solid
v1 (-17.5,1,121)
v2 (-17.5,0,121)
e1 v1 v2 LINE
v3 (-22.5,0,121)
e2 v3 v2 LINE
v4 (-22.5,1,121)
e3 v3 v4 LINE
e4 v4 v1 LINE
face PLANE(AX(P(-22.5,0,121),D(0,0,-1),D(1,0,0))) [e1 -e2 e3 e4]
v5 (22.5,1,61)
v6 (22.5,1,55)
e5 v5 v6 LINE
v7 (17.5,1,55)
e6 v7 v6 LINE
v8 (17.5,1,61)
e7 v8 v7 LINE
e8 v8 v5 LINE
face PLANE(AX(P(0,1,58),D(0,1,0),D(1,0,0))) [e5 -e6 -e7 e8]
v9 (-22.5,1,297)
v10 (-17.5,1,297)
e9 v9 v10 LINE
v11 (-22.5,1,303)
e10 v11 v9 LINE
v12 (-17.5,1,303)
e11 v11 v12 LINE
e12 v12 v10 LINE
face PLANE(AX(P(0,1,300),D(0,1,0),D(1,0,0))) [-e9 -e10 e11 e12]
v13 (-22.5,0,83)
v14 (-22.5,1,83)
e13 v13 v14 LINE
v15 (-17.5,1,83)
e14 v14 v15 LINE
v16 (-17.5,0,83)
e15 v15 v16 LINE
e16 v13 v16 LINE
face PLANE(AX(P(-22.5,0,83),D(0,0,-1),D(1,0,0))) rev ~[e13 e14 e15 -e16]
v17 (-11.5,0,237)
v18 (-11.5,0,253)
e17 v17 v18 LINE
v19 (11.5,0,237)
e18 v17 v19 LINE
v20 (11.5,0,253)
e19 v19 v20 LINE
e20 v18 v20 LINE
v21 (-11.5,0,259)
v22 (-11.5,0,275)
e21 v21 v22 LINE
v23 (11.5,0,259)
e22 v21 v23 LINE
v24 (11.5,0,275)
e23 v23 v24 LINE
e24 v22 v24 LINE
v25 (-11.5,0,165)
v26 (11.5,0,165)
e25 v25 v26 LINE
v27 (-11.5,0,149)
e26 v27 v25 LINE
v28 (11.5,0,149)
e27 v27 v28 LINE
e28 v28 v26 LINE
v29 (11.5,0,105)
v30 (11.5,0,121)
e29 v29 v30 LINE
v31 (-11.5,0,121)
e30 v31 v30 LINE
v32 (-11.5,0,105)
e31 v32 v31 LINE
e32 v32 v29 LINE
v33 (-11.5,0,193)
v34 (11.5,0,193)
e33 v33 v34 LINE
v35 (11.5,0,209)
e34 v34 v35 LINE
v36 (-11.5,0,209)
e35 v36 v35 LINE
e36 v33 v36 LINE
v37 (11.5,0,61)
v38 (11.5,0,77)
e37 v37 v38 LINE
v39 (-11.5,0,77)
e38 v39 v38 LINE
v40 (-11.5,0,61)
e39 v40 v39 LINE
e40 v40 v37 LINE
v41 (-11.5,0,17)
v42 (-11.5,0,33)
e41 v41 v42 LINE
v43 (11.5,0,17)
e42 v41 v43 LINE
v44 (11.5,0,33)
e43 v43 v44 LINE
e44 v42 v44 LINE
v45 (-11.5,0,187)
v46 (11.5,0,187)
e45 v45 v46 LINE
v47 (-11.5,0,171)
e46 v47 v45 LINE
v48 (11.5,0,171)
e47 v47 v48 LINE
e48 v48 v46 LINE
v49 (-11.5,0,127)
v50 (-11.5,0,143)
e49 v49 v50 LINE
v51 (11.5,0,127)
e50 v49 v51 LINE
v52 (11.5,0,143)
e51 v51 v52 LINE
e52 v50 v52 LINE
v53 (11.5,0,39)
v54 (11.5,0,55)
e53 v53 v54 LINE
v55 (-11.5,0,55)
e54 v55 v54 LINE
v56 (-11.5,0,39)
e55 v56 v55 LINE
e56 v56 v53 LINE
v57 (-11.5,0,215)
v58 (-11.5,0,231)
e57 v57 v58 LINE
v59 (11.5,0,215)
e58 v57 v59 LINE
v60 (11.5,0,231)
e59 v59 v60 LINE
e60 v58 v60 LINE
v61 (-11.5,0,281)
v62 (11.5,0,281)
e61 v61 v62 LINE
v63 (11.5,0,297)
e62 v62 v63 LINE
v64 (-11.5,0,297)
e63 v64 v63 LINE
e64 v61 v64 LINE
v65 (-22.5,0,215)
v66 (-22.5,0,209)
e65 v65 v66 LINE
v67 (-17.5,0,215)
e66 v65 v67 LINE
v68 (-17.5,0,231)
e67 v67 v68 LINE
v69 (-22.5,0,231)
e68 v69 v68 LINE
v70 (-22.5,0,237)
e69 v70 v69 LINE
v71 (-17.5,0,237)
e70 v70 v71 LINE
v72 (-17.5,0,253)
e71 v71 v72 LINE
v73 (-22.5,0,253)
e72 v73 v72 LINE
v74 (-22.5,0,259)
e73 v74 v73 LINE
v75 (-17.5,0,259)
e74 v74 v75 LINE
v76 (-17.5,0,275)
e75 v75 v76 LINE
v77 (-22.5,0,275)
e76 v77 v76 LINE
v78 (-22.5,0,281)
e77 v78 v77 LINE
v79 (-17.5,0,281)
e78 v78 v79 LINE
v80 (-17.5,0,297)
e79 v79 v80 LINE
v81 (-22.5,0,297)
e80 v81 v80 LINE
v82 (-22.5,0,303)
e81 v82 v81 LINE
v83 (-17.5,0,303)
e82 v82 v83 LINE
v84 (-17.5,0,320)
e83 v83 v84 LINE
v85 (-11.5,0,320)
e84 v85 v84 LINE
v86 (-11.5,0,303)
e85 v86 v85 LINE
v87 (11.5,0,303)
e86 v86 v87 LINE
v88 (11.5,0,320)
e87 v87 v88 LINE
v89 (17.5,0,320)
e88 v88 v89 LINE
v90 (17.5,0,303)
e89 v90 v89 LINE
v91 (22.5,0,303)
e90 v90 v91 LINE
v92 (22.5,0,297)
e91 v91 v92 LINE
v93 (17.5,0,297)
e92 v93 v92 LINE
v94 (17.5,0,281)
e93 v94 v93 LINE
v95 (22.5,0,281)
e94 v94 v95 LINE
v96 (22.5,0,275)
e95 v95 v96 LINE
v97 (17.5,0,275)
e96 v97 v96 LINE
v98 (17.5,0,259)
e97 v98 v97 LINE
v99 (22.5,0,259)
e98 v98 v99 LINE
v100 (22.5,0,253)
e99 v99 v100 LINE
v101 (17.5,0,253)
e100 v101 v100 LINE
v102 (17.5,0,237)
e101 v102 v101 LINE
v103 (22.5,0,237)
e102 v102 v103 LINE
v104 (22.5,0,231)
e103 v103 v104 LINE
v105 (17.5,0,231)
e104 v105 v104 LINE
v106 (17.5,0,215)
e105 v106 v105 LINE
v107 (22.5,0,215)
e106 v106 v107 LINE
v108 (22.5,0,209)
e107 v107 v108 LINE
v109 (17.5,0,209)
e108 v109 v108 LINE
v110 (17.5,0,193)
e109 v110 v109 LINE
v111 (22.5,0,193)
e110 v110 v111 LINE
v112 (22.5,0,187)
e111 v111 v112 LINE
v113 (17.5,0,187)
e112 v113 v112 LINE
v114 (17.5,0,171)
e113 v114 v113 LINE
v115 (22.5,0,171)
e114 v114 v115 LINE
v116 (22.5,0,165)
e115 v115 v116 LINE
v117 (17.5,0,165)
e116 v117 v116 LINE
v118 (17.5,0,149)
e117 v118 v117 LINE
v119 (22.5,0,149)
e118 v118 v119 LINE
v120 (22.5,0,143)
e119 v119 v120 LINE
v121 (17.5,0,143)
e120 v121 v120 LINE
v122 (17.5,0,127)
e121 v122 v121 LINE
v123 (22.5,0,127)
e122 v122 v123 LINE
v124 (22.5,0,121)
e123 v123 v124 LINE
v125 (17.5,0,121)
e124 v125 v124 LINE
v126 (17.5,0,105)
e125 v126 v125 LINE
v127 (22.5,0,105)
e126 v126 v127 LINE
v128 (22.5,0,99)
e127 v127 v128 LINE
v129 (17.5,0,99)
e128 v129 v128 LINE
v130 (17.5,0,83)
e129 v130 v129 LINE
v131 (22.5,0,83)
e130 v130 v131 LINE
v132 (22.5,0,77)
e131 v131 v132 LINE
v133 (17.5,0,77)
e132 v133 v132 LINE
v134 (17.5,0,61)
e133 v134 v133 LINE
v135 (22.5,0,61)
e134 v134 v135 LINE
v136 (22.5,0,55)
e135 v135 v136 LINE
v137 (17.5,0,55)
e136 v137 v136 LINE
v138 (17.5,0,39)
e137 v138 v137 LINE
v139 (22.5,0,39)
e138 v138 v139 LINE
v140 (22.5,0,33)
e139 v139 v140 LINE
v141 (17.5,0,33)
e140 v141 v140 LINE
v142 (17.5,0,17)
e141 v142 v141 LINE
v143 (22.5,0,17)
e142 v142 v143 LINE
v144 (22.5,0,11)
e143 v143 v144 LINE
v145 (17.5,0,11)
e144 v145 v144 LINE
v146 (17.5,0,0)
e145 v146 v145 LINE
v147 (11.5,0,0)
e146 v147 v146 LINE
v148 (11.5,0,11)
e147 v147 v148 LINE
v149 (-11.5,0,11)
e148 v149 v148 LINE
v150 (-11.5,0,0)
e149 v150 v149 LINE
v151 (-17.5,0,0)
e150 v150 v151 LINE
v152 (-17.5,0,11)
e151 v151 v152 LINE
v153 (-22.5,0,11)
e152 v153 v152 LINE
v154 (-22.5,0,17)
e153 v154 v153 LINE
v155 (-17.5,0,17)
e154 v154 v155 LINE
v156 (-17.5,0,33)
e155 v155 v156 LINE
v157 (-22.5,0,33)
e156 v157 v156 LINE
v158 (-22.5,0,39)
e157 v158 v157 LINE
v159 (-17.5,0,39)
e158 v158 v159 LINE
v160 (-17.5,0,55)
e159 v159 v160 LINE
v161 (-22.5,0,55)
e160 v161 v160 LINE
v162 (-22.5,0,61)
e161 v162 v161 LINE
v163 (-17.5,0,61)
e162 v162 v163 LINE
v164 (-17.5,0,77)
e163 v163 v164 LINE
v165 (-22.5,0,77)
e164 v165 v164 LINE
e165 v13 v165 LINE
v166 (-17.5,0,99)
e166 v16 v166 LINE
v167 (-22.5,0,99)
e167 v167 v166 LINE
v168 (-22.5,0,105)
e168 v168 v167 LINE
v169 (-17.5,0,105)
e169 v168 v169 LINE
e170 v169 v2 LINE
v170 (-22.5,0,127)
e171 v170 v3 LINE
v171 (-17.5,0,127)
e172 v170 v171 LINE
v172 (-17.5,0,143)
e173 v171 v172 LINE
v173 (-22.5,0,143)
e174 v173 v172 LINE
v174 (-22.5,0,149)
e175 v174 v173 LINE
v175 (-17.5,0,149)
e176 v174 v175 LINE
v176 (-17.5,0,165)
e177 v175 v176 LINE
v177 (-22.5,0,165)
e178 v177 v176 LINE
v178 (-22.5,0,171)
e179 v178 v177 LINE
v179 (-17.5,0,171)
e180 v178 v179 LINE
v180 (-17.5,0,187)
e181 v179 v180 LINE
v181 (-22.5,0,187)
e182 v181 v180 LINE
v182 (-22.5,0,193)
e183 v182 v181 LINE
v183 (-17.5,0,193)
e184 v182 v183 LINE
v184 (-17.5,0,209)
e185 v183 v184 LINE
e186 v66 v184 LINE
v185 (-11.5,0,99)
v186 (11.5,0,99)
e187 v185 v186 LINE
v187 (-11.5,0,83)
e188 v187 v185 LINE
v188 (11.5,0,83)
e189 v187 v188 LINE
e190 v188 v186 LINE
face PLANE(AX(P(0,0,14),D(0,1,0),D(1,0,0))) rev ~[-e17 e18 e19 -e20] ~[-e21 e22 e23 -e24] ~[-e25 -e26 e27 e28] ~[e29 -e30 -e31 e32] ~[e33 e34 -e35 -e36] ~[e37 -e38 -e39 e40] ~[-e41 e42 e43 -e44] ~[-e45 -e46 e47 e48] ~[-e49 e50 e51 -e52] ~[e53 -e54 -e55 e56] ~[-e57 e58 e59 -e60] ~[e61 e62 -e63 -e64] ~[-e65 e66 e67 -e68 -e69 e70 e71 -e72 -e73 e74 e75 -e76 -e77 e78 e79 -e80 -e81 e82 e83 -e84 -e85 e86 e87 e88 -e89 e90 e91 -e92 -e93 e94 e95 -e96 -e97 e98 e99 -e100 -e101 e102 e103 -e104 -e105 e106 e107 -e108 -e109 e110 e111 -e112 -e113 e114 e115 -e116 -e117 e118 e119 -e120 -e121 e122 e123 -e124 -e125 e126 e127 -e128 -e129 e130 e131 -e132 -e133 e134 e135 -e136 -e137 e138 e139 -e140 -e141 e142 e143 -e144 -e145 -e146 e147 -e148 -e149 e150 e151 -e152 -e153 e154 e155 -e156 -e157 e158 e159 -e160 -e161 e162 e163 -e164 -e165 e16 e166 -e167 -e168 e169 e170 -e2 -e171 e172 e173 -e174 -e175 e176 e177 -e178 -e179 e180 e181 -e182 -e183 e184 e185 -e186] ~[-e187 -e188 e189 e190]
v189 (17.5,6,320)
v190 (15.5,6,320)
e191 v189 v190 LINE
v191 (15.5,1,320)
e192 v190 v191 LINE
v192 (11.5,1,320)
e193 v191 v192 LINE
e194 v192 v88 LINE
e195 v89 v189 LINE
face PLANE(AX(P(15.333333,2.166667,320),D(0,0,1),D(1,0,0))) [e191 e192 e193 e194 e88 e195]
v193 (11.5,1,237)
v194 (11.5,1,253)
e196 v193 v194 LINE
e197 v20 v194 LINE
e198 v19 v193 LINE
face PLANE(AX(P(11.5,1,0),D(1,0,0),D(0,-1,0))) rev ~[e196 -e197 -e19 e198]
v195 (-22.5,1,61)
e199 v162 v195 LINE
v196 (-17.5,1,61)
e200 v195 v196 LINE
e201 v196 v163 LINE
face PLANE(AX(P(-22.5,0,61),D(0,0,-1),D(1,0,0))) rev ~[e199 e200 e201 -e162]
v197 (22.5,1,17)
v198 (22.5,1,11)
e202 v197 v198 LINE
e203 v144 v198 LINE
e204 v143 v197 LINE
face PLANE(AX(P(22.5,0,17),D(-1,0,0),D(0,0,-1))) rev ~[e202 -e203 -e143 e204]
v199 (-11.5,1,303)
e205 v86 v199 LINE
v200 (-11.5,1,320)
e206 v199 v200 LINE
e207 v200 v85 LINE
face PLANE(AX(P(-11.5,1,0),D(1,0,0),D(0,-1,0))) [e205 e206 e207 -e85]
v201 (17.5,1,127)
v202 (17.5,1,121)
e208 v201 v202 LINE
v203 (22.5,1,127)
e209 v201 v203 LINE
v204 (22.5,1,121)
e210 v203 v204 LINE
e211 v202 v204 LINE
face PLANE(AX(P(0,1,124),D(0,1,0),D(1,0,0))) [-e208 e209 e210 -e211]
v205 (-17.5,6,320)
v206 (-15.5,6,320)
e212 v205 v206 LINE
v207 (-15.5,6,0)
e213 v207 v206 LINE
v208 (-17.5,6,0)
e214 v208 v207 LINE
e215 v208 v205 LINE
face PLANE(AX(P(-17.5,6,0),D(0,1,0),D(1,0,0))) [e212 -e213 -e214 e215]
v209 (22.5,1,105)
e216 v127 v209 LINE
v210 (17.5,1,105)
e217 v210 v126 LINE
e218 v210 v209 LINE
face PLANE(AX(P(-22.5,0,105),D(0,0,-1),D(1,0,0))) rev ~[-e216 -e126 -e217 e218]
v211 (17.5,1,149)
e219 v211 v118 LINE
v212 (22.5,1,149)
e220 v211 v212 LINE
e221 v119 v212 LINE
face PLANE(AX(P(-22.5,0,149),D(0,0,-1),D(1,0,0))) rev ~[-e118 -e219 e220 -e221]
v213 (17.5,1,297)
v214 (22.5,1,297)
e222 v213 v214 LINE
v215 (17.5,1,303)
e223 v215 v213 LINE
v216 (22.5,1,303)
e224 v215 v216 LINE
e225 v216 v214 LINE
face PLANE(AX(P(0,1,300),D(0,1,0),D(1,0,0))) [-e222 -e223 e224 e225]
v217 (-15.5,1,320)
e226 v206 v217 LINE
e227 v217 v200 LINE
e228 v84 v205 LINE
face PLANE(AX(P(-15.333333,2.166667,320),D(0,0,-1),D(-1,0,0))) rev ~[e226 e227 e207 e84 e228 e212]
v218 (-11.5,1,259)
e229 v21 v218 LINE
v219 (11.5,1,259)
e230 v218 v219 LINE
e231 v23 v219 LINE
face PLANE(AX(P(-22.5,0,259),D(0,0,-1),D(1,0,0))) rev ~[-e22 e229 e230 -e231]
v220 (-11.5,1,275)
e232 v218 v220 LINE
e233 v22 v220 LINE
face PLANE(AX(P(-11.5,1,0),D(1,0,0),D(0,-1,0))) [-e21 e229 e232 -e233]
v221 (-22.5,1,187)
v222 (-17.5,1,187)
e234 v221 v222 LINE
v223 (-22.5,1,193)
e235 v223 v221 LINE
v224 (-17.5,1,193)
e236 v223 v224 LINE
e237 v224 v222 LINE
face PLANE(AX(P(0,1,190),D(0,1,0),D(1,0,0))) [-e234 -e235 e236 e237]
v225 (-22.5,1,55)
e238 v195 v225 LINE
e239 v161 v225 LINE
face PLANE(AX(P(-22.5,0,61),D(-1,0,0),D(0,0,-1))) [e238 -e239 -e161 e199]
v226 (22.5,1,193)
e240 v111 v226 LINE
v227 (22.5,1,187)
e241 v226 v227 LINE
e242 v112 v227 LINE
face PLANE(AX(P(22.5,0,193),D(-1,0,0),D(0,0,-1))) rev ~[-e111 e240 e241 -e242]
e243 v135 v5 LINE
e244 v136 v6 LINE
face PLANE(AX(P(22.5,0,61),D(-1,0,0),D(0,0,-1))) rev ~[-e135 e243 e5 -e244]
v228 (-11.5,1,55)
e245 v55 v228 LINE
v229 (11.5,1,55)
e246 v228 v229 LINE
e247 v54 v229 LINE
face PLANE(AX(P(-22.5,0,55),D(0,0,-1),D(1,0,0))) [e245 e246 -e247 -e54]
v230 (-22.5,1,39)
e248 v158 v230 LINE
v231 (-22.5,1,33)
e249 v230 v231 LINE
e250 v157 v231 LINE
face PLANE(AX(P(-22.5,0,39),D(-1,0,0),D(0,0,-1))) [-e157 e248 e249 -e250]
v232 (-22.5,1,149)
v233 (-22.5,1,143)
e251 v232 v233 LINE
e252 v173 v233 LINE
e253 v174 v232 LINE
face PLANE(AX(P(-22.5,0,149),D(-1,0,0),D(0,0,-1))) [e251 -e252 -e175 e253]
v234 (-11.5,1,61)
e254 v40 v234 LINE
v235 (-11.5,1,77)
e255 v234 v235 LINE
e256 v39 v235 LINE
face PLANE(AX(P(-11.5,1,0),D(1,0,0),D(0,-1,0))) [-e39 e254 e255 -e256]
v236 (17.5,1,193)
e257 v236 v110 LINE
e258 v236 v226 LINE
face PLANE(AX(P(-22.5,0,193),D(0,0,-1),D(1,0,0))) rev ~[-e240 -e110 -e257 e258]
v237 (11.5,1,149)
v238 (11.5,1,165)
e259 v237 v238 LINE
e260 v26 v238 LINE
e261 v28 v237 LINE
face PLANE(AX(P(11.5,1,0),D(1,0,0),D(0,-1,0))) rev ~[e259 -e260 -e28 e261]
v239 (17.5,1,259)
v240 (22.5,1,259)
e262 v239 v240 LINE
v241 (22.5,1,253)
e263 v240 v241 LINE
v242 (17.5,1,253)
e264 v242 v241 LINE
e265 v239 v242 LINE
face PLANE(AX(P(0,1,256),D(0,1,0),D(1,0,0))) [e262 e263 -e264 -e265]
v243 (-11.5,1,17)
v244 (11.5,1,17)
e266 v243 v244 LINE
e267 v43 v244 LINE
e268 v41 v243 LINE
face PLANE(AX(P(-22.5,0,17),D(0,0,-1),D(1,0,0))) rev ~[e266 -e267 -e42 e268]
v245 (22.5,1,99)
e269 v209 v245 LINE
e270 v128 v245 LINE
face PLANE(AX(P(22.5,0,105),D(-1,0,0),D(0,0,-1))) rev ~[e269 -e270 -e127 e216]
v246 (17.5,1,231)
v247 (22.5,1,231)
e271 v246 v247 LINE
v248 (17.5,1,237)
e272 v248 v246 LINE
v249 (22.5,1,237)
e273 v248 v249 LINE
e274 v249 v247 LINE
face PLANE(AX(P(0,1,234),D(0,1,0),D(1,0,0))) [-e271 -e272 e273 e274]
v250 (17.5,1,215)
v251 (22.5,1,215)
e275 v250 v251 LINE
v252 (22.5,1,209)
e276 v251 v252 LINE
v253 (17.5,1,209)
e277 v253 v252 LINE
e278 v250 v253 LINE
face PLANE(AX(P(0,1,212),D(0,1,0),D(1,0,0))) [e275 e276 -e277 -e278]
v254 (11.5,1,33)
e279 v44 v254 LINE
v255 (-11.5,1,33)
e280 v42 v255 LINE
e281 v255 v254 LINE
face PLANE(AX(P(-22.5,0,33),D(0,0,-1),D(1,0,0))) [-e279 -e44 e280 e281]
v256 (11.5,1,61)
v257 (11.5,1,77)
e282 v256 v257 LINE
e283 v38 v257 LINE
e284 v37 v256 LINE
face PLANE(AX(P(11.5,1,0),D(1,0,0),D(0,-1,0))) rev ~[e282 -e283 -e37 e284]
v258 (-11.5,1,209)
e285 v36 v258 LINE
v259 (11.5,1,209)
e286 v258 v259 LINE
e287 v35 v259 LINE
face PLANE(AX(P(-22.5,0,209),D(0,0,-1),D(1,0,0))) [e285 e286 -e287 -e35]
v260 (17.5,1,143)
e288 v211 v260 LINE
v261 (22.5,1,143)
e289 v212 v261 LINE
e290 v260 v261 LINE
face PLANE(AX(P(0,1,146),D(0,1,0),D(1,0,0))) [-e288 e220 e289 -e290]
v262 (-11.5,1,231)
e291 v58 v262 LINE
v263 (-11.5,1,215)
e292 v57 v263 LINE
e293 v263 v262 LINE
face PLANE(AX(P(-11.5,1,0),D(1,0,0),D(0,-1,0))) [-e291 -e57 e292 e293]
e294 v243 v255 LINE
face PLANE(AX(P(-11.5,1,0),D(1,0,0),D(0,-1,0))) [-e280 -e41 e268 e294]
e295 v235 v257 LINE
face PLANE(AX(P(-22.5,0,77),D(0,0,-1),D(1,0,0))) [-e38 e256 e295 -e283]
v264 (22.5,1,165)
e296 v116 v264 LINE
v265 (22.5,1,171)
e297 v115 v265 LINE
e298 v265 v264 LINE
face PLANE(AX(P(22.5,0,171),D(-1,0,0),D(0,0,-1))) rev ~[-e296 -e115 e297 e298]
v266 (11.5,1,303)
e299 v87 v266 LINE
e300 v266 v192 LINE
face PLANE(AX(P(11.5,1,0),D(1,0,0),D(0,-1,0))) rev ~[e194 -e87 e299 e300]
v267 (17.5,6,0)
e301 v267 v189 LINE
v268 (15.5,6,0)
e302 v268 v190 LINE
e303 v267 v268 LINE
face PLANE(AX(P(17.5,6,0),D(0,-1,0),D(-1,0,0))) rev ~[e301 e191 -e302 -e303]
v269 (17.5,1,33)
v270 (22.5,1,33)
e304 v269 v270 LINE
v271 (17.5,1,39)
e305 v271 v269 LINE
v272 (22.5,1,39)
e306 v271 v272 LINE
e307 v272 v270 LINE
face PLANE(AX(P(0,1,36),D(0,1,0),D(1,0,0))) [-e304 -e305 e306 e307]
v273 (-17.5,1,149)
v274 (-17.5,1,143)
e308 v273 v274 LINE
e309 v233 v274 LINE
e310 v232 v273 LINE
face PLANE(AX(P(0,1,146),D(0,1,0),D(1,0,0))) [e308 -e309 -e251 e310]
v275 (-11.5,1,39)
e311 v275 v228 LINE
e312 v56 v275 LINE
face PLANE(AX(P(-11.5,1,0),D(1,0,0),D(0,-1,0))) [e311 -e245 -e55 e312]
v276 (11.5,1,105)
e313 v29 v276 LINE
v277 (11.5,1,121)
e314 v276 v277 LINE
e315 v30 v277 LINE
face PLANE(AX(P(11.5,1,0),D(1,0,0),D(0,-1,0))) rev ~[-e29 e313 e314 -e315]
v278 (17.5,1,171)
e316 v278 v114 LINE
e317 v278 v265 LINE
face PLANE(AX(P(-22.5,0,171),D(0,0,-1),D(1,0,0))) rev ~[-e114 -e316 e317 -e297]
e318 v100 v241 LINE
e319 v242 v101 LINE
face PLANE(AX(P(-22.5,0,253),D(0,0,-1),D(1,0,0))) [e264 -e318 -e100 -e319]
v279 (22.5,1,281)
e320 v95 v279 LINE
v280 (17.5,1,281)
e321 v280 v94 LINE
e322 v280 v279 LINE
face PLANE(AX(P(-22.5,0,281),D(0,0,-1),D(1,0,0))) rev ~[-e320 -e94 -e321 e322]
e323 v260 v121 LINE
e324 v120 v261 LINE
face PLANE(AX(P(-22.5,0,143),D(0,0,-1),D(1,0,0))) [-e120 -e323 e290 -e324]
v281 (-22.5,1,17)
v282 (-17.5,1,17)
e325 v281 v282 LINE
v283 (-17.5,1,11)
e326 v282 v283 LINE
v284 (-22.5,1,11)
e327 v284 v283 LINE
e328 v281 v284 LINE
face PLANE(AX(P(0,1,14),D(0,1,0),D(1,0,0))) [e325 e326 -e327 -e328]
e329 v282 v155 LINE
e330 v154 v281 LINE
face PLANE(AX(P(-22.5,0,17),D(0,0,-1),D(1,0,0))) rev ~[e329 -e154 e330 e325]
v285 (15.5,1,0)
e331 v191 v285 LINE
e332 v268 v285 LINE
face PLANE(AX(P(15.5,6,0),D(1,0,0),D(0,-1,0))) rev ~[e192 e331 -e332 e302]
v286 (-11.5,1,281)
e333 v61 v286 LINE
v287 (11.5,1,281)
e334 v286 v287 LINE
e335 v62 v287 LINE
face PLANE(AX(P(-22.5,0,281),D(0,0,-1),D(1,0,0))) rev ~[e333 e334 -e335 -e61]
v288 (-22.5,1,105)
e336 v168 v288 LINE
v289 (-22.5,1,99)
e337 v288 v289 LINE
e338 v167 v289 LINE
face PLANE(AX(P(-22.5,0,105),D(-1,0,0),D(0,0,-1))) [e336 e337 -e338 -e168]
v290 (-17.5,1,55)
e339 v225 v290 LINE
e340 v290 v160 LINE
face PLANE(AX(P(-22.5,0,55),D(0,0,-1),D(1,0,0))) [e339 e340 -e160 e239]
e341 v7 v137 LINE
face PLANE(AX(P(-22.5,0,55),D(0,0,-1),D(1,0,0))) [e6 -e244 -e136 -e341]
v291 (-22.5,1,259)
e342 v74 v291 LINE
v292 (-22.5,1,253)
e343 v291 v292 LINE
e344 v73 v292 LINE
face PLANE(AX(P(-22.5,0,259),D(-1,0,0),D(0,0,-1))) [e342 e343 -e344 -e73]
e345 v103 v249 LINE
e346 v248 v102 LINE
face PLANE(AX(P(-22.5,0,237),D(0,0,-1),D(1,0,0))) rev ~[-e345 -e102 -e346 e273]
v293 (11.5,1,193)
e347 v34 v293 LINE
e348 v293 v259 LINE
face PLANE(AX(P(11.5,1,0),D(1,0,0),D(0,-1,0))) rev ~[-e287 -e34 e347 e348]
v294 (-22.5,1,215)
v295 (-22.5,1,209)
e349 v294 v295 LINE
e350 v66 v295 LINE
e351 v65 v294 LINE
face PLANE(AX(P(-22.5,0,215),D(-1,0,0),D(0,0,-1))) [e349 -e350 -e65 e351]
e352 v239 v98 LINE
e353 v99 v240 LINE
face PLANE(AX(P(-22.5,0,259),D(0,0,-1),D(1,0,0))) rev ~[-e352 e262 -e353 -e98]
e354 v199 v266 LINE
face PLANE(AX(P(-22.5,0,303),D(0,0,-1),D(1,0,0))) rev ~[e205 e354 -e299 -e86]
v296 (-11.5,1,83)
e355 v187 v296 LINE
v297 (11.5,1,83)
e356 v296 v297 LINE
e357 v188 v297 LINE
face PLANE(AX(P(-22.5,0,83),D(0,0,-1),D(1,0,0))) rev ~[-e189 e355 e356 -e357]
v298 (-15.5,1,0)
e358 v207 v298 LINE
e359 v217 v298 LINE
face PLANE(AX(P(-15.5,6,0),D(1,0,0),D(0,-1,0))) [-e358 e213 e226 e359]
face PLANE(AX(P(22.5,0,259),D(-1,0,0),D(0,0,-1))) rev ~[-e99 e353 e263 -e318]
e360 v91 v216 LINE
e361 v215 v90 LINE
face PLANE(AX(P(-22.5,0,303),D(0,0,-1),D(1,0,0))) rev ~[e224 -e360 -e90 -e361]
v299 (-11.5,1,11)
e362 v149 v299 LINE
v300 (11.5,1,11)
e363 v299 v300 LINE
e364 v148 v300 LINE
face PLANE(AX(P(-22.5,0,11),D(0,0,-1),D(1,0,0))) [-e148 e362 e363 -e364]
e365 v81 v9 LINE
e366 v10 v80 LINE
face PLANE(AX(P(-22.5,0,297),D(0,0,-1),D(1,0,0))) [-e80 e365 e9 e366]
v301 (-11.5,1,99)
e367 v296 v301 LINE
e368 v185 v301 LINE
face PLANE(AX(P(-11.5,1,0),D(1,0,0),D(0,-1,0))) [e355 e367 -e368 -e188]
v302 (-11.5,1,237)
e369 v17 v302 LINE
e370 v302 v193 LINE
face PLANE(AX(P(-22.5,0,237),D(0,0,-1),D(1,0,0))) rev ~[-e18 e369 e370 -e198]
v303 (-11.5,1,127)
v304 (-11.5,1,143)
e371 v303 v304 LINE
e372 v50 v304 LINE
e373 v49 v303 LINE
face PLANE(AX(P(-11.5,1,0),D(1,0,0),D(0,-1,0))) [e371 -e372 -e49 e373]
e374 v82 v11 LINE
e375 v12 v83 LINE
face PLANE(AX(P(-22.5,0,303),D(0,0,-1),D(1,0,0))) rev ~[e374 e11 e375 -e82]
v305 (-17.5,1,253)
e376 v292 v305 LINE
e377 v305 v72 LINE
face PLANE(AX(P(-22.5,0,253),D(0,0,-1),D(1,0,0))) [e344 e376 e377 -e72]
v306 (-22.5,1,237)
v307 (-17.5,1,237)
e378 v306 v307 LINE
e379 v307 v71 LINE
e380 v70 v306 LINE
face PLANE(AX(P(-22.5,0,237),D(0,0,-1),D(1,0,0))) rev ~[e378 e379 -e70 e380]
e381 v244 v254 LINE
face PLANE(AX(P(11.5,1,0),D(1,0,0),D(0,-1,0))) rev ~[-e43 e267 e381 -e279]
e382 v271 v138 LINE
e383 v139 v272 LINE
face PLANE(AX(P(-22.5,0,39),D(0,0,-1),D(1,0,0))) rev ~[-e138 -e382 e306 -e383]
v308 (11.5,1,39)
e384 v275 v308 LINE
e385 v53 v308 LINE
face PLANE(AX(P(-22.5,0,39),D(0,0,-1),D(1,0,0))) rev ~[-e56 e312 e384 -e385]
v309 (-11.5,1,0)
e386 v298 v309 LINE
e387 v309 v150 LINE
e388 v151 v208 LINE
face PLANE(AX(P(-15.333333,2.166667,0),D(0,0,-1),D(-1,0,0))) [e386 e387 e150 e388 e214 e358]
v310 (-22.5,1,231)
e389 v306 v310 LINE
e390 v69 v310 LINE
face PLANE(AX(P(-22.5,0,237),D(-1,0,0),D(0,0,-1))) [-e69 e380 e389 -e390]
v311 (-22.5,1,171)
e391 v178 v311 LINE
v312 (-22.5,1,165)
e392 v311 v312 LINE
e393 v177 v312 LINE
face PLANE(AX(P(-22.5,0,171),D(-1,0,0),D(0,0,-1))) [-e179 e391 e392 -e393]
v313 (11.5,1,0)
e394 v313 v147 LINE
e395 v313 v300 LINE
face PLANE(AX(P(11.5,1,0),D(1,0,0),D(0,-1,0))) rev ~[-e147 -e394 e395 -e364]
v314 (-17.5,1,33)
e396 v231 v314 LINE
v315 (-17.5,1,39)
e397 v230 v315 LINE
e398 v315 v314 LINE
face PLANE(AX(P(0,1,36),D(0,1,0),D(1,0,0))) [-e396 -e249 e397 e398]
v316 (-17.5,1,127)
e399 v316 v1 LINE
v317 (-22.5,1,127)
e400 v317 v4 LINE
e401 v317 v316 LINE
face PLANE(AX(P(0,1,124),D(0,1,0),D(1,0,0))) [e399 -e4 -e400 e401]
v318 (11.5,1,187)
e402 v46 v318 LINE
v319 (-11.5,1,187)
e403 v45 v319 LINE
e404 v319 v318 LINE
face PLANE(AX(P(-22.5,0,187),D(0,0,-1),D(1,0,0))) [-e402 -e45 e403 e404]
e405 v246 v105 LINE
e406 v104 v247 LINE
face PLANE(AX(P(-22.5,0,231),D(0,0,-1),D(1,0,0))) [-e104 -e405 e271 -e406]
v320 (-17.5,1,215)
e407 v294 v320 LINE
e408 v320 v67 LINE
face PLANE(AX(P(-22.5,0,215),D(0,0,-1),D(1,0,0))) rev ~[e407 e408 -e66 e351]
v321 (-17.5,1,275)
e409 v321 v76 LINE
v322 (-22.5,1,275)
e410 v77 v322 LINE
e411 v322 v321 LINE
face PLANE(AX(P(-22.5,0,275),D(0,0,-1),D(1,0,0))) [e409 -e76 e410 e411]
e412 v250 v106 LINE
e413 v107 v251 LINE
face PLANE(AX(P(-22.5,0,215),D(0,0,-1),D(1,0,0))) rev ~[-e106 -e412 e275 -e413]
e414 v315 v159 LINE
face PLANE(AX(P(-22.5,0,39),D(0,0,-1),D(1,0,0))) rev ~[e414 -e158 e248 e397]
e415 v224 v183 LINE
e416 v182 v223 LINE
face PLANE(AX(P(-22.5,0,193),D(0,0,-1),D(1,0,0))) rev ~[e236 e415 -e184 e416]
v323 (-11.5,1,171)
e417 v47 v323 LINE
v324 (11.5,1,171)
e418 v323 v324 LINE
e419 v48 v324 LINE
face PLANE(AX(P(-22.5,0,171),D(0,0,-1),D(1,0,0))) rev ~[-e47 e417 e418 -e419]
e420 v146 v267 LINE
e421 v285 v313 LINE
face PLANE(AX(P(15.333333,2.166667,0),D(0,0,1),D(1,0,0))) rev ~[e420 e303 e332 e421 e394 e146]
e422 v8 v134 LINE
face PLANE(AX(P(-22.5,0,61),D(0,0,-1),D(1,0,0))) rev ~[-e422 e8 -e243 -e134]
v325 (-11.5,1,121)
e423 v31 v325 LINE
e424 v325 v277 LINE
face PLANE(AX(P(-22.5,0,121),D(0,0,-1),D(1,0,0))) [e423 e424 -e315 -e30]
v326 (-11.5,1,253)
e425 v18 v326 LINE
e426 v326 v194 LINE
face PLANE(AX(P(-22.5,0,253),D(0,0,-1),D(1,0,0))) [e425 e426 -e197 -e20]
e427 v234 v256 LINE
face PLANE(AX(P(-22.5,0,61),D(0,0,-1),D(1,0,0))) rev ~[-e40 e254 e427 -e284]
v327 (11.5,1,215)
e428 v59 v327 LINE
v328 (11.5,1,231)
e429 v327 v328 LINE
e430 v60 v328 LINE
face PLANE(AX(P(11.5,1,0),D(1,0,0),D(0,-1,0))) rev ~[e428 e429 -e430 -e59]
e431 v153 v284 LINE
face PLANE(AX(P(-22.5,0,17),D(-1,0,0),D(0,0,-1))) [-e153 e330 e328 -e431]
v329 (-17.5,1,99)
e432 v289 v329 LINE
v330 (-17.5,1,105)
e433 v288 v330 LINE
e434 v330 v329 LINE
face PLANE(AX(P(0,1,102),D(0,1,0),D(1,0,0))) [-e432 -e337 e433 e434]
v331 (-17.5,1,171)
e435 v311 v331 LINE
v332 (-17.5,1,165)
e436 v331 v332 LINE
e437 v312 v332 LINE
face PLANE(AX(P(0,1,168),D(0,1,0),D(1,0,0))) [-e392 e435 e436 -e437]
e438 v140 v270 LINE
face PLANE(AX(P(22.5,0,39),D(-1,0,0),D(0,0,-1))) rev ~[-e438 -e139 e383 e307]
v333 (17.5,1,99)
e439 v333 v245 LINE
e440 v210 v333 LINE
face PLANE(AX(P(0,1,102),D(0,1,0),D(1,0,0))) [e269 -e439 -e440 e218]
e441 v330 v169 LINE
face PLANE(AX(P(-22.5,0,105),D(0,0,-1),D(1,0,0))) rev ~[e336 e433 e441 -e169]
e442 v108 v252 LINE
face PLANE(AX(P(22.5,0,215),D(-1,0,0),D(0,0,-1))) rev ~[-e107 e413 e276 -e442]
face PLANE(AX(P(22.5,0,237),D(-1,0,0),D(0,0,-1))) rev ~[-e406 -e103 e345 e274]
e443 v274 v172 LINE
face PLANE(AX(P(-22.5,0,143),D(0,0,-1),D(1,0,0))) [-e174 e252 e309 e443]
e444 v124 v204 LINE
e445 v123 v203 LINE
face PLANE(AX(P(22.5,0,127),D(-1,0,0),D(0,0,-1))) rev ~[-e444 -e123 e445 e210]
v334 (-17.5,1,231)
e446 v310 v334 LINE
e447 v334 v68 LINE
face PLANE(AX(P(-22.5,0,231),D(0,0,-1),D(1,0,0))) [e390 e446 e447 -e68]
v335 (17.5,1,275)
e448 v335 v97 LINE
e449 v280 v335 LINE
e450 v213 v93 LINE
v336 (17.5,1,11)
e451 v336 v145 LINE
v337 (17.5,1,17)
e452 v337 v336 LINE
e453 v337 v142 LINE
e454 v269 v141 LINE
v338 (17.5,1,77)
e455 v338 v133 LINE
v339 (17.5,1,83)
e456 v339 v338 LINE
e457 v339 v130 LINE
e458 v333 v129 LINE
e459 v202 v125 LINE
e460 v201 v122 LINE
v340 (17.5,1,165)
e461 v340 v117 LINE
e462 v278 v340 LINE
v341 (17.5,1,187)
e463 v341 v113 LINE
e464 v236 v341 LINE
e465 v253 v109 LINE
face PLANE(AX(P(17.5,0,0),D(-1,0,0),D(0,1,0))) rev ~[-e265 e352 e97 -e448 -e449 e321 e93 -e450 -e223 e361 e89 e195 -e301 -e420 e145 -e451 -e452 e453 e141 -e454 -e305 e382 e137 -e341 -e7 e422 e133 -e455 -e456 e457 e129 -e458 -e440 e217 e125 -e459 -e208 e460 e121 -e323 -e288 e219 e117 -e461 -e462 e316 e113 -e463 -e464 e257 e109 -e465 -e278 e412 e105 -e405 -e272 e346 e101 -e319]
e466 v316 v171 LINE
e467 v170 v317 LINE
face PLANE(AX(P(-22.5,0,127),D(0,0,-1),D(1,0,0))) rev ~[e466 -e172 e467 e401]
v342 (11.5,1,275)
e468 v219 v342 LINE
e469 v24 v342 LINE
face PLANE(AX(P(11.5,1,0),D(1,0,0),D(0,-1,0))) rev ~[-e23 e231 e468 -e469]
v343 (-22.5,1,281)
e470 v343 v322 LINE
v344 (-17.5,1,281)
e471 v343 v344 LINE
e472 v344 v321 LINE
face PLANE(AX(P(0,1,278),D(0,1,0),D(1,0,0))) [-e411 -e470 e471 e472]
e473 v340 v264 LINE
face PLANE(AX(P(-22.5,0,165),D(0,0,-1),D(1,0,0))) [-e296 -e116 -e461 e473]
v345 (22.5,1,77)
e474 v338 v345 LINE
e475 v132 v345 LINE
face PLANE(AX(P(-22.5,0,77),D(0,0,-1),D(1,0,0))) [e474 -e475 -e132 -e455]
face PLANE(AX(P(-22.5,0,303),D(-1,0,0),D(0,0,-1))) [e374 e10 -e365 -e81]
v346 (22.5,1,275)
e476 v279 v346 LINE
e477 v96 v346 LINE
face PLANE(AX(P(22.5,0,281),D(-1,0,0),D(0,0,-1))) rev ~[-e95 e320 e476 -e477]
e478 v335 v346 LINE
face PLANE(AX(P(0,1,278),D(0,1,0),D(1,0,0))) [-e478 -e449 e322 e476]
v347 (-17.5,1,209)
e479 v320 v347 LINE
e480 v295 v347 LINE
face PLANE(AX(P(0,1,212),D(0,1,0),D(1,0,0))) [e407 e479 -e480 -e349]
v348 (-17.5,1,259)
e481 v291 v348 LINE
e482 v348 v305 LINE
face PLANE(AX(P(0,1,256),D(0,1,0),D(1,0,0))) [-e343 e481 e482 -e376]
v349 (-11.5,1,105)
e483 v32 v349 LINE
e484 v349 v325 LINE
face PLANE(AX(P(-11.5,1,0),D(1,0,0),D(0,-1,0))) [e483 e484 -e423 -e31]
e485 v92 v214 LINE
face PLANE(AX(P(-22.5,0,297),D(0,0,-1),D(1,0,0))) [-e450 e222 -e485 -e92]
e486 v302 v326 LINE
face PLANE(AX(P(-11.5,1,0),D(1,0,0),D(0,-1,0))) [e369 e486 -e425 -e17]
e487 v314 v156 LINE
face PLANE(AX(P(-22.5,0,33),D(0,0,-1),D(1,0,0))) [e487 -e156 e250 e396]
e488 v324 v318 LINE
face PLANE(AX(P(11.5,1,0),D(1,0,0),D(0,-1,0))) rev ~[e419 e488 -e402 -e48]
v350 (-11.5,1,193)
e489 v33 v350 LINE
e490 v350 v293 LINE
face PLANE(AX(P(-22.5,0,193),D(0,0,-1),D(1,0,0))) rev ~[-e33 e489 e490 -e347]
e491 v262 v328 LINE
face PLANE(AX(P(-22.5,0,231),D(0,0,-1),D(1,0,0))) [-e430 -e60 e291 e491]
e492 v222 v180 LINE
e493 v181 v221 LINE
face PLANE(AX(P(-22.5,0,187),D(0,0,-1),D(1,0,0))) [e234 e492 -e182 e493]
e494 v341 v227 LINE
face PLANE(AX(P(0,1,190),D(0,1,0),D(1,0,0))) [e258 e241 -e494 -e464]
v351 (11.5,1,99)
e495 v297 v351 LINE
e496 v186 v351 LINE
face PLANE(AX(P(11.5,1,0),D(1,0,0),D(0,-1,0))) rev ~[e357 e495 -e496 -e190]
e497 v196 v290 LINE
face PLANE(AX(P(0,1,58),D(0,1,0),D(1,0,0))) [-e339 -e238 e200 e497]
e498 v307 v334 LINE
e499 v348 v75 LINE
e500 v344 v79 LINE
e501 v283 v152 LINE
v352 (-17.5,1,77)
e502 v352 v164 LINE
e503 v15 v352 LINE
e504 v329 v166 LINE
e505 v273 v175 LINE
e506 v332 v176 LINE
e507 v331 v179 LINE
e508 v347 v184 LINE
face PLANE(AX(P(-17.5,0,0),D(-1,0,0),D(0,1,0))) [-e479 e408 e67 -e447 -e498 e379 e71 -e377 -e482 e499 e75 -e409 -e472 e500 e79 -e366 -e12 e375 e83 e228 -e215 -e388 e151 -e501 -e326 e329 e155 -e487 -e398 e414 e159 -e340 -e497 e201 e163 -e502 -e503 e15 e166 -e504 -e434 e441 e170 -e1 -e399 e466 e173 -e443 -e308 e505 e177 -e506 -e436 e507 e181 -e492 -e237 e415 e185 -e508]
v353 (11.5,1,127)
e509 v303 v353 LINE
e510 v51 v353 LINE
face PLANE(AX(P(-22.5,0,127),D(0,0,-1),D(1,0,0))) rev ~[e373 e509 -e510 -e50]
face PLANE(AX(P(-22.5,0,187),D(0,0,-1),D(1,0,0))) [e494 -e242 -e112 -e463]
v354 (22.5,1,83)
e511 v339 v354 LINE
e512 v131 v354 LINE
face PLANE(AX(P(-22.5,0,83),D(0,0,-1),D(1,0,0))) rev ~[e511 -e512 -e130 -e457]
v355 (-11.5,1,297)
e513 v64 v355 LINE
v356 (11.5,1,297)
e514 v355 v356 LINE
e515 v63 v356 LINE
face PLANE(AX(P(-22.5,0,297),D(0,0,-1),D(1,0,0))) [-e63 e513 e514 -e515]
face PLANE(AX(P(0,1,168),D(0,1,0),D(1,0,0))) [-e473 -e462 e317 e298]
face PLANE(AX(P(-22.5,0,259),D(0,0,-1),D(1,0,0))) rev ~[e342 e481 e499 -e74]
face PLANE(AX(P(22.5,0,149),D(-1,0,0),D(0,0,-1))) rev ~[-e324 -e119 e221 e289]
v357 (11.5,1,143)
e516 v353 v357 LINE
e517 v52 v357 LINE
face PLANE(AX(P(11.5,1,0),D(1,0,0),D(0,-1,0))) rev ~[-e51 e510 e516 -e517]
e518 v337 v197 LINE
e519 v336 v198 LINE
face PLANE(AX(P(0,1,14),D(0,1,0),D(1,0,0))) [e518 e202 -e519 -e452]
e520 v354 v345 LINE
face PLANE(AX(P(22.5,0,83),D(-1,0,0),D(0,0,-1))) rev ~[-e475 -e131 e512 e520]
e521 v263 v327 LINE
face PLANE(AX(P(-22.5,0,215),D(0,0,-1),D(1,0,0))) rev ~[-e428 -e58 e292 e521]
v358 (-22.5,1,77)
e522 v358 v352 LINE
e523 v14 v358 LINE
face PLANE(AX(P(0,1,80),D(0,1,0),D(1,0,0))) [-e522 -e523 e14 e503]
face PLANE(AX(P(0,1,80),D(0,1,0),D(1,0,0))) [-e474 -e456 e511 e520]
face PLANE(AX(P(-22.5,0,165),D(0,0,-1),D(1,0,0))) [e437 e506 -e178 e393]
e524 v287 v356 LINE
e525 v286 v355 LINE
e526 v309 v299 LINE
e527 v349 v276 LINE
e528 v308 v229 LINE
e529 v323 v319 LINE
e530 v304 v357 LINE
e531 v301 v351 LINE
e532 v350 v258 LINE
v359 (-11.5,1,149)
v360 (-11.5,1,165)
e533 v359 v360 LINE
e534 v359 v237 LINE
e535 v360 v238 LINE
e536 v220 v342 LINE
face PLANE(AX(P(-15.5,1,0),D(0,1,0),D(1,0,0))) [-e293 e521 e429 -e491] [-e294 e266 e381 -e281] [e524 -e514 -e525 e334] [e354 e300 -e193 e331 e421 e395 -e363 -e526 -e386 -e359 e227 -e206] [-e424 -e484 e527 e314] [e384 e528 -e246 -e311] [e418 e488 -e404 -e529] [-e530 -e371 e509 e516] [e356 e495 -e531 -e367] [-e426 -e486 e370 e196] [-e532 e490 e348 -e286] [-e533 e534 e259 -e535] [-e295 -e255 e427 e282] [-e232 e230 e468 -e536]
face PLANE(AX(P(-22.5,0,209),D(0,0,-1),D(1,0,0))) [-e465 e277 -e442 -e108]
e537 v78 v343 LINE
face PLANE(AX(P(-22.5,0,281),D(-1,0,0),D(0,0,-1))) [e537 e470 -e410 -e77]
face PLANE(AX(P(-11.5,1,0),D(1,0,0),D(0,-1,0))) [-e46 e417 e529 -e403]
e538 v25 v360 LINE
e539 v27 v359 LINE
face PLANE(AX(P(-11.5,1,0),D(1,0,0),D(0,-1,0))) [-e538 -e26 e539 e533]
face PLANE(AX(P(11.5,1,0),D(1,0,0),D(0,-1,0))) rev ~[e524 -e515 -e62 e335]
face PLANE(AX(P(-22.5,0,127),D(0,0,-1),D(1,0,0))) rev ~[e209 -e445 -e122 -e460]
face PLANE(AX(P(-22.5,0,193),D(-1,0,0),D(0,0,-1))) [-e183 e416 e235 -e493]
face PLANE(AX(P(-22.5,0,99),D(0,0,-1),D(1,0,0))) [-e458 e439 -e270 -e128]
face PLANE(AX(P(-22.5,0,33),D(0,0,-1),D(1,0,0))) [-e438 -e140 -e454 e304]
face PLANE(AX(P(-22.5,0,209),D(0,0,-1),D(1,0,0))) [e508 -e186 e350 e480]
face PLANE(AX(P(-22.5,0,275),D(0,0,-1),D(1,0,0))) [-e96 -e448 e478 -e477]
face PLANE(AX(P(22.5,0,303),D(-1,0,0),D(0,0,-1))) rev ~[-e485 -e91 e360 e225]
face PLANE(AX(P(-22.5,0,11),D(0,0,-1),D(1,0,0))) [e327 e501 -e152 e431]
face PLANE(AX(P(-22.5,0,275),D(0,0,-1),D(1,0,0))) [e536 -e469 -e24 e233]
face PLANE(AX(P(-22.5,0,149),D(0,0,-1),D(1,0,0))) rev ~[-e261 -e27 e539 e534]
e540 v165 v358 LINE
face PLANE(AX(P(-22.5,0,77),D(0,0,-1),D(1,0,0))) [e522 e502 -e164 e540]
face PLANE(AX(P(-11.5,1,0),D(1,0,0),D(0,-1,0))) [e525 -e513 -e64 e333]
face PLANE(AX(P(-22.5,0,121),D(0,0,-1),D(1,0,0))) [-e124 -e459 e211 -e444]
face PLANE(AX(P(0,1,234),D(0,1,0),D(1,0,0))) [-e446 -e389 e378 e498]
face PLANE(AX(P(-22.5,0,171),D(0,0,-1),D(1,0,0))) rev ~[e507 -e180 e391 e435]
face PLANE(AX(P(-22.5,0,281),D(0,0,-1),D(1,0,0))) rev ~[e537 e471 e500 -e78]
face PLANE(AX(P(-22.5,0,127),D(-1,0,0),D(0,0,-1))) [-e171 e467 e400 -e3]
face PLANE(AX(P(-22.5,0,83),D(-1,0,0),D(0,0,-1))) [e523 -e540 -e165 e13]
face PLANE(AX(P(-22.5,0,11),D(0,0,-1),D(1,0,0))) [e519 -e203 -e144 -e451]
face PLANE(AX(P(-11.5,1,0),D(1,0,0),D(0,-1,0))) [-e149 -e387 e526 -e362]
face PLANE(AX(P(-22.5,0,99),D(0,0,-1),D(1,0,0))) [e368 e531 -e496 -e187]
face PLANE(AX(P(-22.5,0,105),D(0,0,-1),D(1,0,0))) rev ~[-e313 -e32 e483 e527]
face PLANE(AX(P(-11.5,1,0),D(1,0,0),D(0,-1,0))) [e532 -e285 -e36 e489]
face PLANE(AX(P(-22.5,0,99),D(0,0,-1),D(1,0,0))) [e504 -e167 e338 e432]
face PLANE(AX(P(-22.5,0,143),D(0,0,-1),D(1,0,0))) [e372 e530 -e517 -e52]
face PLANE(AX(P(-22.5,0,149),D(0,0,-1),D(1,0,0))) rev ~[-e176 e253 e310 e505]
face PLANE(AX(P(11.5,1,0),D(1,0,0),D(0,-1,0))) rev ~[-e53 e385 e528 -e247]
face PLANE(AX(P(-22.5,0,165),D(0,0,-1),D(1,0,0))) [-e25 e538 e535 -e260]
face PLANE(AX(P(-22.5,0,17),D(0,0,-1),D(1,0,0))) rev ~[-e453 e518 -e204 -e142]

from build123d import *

# Parameters (mm, degrees)
BOSS_EXTRUDE1_DEPTH   = 320
BOSS_EXTRUDE1_2_DEPTH = 320
SKETCH3_W             = 45
SKETCH3_H             = 6
BOSS_EXTRUDE2_DEPTH   = 1


with BuildPart() as part:
    # Sketch1 → Boss-Extrude1 (new body)
    with BuildSketch(Plane.XY):
        Polygon((-17.5, 0), (-17.5, 6), (-15.5, 6), (-15.5, 1), (-11.5, 1), (-11.5, 0), align=None)
    extrude(amount=BOSS_EXTRUDE1_DEPTH)



with BuildPart() as body_2:
    # Sketch1 → Boss-Extrude1 2 (new body)
    with BuildSketch(Plane.XY):
        Polygon((17.5, 0), (17.5, 6), (15.5, 6), (15.5, 1), (11.5, 1), (11.5, 0), align=None)
    extrude(amount=BOSS_EXTRUDE1_2_DEPTH)


with BuildPart() as part_1:
    add(part.part)

    add(body_2.part)  # Boss-Extrude2 merges body 2
    # Sketch3 → Boss-Extrude2 (add)
    with BuildSketch(Plane(origin=(0, 0, 0), x_dir=(1, 0, 0), z_dir=(0, 1, 0))):
        with Locations((0, -14)):
            Rectangle(SKETCH3_W, SKETCH3_H)
        with Locations((0, -36)):
            Rectangle(SKETCH3_W, SKETCH3_H)
        with Locations((0, -58)):
            Rectangle(SKETCH3_W, SKETCH3_H)
        with Locations((0, -80)):
            Rectangle(SKETCH3_W, SKETCH3_H)
        with Locations((0, -102)):
            Rectangle(SKETCH3_W, SKETCH3_H)
        with Locations((0, -124)):
            Rectangle(SKETCH3_W, SKETCH3_H)
        with Locations((0, -146)):
            Rectangle(SKETCH3_W, SKETCH3_H)
        with Locations((0, -168)):
            Rectangle(SKETCH3_W, SKETCH3_H)
        with Locations((0, -190)):
            Rectangle(SKETCH3_W, SKETCH3_H)
        with Locations((0, -212)):
            Rectangle(SKETCH3_W, SKETCH3_H)
        with Locations((0, -234)):
            Rectangle(SKETCH3_W, SKETCH3_H)
        with Locations((0, -256)):
            Rectangle(SKETCH3_W, SKETCH3_H)
        with Locations((0, -278)):
            Rectangle(SKETCH3_W, SKETCH3_H)
        with Locations((0, -300)):
            Rectangle(SKETCH3_W, SKETCH3_H)
    extrude(amount=BOSS_EXTRUDE2_DEPTH)


solid = part_1.part
